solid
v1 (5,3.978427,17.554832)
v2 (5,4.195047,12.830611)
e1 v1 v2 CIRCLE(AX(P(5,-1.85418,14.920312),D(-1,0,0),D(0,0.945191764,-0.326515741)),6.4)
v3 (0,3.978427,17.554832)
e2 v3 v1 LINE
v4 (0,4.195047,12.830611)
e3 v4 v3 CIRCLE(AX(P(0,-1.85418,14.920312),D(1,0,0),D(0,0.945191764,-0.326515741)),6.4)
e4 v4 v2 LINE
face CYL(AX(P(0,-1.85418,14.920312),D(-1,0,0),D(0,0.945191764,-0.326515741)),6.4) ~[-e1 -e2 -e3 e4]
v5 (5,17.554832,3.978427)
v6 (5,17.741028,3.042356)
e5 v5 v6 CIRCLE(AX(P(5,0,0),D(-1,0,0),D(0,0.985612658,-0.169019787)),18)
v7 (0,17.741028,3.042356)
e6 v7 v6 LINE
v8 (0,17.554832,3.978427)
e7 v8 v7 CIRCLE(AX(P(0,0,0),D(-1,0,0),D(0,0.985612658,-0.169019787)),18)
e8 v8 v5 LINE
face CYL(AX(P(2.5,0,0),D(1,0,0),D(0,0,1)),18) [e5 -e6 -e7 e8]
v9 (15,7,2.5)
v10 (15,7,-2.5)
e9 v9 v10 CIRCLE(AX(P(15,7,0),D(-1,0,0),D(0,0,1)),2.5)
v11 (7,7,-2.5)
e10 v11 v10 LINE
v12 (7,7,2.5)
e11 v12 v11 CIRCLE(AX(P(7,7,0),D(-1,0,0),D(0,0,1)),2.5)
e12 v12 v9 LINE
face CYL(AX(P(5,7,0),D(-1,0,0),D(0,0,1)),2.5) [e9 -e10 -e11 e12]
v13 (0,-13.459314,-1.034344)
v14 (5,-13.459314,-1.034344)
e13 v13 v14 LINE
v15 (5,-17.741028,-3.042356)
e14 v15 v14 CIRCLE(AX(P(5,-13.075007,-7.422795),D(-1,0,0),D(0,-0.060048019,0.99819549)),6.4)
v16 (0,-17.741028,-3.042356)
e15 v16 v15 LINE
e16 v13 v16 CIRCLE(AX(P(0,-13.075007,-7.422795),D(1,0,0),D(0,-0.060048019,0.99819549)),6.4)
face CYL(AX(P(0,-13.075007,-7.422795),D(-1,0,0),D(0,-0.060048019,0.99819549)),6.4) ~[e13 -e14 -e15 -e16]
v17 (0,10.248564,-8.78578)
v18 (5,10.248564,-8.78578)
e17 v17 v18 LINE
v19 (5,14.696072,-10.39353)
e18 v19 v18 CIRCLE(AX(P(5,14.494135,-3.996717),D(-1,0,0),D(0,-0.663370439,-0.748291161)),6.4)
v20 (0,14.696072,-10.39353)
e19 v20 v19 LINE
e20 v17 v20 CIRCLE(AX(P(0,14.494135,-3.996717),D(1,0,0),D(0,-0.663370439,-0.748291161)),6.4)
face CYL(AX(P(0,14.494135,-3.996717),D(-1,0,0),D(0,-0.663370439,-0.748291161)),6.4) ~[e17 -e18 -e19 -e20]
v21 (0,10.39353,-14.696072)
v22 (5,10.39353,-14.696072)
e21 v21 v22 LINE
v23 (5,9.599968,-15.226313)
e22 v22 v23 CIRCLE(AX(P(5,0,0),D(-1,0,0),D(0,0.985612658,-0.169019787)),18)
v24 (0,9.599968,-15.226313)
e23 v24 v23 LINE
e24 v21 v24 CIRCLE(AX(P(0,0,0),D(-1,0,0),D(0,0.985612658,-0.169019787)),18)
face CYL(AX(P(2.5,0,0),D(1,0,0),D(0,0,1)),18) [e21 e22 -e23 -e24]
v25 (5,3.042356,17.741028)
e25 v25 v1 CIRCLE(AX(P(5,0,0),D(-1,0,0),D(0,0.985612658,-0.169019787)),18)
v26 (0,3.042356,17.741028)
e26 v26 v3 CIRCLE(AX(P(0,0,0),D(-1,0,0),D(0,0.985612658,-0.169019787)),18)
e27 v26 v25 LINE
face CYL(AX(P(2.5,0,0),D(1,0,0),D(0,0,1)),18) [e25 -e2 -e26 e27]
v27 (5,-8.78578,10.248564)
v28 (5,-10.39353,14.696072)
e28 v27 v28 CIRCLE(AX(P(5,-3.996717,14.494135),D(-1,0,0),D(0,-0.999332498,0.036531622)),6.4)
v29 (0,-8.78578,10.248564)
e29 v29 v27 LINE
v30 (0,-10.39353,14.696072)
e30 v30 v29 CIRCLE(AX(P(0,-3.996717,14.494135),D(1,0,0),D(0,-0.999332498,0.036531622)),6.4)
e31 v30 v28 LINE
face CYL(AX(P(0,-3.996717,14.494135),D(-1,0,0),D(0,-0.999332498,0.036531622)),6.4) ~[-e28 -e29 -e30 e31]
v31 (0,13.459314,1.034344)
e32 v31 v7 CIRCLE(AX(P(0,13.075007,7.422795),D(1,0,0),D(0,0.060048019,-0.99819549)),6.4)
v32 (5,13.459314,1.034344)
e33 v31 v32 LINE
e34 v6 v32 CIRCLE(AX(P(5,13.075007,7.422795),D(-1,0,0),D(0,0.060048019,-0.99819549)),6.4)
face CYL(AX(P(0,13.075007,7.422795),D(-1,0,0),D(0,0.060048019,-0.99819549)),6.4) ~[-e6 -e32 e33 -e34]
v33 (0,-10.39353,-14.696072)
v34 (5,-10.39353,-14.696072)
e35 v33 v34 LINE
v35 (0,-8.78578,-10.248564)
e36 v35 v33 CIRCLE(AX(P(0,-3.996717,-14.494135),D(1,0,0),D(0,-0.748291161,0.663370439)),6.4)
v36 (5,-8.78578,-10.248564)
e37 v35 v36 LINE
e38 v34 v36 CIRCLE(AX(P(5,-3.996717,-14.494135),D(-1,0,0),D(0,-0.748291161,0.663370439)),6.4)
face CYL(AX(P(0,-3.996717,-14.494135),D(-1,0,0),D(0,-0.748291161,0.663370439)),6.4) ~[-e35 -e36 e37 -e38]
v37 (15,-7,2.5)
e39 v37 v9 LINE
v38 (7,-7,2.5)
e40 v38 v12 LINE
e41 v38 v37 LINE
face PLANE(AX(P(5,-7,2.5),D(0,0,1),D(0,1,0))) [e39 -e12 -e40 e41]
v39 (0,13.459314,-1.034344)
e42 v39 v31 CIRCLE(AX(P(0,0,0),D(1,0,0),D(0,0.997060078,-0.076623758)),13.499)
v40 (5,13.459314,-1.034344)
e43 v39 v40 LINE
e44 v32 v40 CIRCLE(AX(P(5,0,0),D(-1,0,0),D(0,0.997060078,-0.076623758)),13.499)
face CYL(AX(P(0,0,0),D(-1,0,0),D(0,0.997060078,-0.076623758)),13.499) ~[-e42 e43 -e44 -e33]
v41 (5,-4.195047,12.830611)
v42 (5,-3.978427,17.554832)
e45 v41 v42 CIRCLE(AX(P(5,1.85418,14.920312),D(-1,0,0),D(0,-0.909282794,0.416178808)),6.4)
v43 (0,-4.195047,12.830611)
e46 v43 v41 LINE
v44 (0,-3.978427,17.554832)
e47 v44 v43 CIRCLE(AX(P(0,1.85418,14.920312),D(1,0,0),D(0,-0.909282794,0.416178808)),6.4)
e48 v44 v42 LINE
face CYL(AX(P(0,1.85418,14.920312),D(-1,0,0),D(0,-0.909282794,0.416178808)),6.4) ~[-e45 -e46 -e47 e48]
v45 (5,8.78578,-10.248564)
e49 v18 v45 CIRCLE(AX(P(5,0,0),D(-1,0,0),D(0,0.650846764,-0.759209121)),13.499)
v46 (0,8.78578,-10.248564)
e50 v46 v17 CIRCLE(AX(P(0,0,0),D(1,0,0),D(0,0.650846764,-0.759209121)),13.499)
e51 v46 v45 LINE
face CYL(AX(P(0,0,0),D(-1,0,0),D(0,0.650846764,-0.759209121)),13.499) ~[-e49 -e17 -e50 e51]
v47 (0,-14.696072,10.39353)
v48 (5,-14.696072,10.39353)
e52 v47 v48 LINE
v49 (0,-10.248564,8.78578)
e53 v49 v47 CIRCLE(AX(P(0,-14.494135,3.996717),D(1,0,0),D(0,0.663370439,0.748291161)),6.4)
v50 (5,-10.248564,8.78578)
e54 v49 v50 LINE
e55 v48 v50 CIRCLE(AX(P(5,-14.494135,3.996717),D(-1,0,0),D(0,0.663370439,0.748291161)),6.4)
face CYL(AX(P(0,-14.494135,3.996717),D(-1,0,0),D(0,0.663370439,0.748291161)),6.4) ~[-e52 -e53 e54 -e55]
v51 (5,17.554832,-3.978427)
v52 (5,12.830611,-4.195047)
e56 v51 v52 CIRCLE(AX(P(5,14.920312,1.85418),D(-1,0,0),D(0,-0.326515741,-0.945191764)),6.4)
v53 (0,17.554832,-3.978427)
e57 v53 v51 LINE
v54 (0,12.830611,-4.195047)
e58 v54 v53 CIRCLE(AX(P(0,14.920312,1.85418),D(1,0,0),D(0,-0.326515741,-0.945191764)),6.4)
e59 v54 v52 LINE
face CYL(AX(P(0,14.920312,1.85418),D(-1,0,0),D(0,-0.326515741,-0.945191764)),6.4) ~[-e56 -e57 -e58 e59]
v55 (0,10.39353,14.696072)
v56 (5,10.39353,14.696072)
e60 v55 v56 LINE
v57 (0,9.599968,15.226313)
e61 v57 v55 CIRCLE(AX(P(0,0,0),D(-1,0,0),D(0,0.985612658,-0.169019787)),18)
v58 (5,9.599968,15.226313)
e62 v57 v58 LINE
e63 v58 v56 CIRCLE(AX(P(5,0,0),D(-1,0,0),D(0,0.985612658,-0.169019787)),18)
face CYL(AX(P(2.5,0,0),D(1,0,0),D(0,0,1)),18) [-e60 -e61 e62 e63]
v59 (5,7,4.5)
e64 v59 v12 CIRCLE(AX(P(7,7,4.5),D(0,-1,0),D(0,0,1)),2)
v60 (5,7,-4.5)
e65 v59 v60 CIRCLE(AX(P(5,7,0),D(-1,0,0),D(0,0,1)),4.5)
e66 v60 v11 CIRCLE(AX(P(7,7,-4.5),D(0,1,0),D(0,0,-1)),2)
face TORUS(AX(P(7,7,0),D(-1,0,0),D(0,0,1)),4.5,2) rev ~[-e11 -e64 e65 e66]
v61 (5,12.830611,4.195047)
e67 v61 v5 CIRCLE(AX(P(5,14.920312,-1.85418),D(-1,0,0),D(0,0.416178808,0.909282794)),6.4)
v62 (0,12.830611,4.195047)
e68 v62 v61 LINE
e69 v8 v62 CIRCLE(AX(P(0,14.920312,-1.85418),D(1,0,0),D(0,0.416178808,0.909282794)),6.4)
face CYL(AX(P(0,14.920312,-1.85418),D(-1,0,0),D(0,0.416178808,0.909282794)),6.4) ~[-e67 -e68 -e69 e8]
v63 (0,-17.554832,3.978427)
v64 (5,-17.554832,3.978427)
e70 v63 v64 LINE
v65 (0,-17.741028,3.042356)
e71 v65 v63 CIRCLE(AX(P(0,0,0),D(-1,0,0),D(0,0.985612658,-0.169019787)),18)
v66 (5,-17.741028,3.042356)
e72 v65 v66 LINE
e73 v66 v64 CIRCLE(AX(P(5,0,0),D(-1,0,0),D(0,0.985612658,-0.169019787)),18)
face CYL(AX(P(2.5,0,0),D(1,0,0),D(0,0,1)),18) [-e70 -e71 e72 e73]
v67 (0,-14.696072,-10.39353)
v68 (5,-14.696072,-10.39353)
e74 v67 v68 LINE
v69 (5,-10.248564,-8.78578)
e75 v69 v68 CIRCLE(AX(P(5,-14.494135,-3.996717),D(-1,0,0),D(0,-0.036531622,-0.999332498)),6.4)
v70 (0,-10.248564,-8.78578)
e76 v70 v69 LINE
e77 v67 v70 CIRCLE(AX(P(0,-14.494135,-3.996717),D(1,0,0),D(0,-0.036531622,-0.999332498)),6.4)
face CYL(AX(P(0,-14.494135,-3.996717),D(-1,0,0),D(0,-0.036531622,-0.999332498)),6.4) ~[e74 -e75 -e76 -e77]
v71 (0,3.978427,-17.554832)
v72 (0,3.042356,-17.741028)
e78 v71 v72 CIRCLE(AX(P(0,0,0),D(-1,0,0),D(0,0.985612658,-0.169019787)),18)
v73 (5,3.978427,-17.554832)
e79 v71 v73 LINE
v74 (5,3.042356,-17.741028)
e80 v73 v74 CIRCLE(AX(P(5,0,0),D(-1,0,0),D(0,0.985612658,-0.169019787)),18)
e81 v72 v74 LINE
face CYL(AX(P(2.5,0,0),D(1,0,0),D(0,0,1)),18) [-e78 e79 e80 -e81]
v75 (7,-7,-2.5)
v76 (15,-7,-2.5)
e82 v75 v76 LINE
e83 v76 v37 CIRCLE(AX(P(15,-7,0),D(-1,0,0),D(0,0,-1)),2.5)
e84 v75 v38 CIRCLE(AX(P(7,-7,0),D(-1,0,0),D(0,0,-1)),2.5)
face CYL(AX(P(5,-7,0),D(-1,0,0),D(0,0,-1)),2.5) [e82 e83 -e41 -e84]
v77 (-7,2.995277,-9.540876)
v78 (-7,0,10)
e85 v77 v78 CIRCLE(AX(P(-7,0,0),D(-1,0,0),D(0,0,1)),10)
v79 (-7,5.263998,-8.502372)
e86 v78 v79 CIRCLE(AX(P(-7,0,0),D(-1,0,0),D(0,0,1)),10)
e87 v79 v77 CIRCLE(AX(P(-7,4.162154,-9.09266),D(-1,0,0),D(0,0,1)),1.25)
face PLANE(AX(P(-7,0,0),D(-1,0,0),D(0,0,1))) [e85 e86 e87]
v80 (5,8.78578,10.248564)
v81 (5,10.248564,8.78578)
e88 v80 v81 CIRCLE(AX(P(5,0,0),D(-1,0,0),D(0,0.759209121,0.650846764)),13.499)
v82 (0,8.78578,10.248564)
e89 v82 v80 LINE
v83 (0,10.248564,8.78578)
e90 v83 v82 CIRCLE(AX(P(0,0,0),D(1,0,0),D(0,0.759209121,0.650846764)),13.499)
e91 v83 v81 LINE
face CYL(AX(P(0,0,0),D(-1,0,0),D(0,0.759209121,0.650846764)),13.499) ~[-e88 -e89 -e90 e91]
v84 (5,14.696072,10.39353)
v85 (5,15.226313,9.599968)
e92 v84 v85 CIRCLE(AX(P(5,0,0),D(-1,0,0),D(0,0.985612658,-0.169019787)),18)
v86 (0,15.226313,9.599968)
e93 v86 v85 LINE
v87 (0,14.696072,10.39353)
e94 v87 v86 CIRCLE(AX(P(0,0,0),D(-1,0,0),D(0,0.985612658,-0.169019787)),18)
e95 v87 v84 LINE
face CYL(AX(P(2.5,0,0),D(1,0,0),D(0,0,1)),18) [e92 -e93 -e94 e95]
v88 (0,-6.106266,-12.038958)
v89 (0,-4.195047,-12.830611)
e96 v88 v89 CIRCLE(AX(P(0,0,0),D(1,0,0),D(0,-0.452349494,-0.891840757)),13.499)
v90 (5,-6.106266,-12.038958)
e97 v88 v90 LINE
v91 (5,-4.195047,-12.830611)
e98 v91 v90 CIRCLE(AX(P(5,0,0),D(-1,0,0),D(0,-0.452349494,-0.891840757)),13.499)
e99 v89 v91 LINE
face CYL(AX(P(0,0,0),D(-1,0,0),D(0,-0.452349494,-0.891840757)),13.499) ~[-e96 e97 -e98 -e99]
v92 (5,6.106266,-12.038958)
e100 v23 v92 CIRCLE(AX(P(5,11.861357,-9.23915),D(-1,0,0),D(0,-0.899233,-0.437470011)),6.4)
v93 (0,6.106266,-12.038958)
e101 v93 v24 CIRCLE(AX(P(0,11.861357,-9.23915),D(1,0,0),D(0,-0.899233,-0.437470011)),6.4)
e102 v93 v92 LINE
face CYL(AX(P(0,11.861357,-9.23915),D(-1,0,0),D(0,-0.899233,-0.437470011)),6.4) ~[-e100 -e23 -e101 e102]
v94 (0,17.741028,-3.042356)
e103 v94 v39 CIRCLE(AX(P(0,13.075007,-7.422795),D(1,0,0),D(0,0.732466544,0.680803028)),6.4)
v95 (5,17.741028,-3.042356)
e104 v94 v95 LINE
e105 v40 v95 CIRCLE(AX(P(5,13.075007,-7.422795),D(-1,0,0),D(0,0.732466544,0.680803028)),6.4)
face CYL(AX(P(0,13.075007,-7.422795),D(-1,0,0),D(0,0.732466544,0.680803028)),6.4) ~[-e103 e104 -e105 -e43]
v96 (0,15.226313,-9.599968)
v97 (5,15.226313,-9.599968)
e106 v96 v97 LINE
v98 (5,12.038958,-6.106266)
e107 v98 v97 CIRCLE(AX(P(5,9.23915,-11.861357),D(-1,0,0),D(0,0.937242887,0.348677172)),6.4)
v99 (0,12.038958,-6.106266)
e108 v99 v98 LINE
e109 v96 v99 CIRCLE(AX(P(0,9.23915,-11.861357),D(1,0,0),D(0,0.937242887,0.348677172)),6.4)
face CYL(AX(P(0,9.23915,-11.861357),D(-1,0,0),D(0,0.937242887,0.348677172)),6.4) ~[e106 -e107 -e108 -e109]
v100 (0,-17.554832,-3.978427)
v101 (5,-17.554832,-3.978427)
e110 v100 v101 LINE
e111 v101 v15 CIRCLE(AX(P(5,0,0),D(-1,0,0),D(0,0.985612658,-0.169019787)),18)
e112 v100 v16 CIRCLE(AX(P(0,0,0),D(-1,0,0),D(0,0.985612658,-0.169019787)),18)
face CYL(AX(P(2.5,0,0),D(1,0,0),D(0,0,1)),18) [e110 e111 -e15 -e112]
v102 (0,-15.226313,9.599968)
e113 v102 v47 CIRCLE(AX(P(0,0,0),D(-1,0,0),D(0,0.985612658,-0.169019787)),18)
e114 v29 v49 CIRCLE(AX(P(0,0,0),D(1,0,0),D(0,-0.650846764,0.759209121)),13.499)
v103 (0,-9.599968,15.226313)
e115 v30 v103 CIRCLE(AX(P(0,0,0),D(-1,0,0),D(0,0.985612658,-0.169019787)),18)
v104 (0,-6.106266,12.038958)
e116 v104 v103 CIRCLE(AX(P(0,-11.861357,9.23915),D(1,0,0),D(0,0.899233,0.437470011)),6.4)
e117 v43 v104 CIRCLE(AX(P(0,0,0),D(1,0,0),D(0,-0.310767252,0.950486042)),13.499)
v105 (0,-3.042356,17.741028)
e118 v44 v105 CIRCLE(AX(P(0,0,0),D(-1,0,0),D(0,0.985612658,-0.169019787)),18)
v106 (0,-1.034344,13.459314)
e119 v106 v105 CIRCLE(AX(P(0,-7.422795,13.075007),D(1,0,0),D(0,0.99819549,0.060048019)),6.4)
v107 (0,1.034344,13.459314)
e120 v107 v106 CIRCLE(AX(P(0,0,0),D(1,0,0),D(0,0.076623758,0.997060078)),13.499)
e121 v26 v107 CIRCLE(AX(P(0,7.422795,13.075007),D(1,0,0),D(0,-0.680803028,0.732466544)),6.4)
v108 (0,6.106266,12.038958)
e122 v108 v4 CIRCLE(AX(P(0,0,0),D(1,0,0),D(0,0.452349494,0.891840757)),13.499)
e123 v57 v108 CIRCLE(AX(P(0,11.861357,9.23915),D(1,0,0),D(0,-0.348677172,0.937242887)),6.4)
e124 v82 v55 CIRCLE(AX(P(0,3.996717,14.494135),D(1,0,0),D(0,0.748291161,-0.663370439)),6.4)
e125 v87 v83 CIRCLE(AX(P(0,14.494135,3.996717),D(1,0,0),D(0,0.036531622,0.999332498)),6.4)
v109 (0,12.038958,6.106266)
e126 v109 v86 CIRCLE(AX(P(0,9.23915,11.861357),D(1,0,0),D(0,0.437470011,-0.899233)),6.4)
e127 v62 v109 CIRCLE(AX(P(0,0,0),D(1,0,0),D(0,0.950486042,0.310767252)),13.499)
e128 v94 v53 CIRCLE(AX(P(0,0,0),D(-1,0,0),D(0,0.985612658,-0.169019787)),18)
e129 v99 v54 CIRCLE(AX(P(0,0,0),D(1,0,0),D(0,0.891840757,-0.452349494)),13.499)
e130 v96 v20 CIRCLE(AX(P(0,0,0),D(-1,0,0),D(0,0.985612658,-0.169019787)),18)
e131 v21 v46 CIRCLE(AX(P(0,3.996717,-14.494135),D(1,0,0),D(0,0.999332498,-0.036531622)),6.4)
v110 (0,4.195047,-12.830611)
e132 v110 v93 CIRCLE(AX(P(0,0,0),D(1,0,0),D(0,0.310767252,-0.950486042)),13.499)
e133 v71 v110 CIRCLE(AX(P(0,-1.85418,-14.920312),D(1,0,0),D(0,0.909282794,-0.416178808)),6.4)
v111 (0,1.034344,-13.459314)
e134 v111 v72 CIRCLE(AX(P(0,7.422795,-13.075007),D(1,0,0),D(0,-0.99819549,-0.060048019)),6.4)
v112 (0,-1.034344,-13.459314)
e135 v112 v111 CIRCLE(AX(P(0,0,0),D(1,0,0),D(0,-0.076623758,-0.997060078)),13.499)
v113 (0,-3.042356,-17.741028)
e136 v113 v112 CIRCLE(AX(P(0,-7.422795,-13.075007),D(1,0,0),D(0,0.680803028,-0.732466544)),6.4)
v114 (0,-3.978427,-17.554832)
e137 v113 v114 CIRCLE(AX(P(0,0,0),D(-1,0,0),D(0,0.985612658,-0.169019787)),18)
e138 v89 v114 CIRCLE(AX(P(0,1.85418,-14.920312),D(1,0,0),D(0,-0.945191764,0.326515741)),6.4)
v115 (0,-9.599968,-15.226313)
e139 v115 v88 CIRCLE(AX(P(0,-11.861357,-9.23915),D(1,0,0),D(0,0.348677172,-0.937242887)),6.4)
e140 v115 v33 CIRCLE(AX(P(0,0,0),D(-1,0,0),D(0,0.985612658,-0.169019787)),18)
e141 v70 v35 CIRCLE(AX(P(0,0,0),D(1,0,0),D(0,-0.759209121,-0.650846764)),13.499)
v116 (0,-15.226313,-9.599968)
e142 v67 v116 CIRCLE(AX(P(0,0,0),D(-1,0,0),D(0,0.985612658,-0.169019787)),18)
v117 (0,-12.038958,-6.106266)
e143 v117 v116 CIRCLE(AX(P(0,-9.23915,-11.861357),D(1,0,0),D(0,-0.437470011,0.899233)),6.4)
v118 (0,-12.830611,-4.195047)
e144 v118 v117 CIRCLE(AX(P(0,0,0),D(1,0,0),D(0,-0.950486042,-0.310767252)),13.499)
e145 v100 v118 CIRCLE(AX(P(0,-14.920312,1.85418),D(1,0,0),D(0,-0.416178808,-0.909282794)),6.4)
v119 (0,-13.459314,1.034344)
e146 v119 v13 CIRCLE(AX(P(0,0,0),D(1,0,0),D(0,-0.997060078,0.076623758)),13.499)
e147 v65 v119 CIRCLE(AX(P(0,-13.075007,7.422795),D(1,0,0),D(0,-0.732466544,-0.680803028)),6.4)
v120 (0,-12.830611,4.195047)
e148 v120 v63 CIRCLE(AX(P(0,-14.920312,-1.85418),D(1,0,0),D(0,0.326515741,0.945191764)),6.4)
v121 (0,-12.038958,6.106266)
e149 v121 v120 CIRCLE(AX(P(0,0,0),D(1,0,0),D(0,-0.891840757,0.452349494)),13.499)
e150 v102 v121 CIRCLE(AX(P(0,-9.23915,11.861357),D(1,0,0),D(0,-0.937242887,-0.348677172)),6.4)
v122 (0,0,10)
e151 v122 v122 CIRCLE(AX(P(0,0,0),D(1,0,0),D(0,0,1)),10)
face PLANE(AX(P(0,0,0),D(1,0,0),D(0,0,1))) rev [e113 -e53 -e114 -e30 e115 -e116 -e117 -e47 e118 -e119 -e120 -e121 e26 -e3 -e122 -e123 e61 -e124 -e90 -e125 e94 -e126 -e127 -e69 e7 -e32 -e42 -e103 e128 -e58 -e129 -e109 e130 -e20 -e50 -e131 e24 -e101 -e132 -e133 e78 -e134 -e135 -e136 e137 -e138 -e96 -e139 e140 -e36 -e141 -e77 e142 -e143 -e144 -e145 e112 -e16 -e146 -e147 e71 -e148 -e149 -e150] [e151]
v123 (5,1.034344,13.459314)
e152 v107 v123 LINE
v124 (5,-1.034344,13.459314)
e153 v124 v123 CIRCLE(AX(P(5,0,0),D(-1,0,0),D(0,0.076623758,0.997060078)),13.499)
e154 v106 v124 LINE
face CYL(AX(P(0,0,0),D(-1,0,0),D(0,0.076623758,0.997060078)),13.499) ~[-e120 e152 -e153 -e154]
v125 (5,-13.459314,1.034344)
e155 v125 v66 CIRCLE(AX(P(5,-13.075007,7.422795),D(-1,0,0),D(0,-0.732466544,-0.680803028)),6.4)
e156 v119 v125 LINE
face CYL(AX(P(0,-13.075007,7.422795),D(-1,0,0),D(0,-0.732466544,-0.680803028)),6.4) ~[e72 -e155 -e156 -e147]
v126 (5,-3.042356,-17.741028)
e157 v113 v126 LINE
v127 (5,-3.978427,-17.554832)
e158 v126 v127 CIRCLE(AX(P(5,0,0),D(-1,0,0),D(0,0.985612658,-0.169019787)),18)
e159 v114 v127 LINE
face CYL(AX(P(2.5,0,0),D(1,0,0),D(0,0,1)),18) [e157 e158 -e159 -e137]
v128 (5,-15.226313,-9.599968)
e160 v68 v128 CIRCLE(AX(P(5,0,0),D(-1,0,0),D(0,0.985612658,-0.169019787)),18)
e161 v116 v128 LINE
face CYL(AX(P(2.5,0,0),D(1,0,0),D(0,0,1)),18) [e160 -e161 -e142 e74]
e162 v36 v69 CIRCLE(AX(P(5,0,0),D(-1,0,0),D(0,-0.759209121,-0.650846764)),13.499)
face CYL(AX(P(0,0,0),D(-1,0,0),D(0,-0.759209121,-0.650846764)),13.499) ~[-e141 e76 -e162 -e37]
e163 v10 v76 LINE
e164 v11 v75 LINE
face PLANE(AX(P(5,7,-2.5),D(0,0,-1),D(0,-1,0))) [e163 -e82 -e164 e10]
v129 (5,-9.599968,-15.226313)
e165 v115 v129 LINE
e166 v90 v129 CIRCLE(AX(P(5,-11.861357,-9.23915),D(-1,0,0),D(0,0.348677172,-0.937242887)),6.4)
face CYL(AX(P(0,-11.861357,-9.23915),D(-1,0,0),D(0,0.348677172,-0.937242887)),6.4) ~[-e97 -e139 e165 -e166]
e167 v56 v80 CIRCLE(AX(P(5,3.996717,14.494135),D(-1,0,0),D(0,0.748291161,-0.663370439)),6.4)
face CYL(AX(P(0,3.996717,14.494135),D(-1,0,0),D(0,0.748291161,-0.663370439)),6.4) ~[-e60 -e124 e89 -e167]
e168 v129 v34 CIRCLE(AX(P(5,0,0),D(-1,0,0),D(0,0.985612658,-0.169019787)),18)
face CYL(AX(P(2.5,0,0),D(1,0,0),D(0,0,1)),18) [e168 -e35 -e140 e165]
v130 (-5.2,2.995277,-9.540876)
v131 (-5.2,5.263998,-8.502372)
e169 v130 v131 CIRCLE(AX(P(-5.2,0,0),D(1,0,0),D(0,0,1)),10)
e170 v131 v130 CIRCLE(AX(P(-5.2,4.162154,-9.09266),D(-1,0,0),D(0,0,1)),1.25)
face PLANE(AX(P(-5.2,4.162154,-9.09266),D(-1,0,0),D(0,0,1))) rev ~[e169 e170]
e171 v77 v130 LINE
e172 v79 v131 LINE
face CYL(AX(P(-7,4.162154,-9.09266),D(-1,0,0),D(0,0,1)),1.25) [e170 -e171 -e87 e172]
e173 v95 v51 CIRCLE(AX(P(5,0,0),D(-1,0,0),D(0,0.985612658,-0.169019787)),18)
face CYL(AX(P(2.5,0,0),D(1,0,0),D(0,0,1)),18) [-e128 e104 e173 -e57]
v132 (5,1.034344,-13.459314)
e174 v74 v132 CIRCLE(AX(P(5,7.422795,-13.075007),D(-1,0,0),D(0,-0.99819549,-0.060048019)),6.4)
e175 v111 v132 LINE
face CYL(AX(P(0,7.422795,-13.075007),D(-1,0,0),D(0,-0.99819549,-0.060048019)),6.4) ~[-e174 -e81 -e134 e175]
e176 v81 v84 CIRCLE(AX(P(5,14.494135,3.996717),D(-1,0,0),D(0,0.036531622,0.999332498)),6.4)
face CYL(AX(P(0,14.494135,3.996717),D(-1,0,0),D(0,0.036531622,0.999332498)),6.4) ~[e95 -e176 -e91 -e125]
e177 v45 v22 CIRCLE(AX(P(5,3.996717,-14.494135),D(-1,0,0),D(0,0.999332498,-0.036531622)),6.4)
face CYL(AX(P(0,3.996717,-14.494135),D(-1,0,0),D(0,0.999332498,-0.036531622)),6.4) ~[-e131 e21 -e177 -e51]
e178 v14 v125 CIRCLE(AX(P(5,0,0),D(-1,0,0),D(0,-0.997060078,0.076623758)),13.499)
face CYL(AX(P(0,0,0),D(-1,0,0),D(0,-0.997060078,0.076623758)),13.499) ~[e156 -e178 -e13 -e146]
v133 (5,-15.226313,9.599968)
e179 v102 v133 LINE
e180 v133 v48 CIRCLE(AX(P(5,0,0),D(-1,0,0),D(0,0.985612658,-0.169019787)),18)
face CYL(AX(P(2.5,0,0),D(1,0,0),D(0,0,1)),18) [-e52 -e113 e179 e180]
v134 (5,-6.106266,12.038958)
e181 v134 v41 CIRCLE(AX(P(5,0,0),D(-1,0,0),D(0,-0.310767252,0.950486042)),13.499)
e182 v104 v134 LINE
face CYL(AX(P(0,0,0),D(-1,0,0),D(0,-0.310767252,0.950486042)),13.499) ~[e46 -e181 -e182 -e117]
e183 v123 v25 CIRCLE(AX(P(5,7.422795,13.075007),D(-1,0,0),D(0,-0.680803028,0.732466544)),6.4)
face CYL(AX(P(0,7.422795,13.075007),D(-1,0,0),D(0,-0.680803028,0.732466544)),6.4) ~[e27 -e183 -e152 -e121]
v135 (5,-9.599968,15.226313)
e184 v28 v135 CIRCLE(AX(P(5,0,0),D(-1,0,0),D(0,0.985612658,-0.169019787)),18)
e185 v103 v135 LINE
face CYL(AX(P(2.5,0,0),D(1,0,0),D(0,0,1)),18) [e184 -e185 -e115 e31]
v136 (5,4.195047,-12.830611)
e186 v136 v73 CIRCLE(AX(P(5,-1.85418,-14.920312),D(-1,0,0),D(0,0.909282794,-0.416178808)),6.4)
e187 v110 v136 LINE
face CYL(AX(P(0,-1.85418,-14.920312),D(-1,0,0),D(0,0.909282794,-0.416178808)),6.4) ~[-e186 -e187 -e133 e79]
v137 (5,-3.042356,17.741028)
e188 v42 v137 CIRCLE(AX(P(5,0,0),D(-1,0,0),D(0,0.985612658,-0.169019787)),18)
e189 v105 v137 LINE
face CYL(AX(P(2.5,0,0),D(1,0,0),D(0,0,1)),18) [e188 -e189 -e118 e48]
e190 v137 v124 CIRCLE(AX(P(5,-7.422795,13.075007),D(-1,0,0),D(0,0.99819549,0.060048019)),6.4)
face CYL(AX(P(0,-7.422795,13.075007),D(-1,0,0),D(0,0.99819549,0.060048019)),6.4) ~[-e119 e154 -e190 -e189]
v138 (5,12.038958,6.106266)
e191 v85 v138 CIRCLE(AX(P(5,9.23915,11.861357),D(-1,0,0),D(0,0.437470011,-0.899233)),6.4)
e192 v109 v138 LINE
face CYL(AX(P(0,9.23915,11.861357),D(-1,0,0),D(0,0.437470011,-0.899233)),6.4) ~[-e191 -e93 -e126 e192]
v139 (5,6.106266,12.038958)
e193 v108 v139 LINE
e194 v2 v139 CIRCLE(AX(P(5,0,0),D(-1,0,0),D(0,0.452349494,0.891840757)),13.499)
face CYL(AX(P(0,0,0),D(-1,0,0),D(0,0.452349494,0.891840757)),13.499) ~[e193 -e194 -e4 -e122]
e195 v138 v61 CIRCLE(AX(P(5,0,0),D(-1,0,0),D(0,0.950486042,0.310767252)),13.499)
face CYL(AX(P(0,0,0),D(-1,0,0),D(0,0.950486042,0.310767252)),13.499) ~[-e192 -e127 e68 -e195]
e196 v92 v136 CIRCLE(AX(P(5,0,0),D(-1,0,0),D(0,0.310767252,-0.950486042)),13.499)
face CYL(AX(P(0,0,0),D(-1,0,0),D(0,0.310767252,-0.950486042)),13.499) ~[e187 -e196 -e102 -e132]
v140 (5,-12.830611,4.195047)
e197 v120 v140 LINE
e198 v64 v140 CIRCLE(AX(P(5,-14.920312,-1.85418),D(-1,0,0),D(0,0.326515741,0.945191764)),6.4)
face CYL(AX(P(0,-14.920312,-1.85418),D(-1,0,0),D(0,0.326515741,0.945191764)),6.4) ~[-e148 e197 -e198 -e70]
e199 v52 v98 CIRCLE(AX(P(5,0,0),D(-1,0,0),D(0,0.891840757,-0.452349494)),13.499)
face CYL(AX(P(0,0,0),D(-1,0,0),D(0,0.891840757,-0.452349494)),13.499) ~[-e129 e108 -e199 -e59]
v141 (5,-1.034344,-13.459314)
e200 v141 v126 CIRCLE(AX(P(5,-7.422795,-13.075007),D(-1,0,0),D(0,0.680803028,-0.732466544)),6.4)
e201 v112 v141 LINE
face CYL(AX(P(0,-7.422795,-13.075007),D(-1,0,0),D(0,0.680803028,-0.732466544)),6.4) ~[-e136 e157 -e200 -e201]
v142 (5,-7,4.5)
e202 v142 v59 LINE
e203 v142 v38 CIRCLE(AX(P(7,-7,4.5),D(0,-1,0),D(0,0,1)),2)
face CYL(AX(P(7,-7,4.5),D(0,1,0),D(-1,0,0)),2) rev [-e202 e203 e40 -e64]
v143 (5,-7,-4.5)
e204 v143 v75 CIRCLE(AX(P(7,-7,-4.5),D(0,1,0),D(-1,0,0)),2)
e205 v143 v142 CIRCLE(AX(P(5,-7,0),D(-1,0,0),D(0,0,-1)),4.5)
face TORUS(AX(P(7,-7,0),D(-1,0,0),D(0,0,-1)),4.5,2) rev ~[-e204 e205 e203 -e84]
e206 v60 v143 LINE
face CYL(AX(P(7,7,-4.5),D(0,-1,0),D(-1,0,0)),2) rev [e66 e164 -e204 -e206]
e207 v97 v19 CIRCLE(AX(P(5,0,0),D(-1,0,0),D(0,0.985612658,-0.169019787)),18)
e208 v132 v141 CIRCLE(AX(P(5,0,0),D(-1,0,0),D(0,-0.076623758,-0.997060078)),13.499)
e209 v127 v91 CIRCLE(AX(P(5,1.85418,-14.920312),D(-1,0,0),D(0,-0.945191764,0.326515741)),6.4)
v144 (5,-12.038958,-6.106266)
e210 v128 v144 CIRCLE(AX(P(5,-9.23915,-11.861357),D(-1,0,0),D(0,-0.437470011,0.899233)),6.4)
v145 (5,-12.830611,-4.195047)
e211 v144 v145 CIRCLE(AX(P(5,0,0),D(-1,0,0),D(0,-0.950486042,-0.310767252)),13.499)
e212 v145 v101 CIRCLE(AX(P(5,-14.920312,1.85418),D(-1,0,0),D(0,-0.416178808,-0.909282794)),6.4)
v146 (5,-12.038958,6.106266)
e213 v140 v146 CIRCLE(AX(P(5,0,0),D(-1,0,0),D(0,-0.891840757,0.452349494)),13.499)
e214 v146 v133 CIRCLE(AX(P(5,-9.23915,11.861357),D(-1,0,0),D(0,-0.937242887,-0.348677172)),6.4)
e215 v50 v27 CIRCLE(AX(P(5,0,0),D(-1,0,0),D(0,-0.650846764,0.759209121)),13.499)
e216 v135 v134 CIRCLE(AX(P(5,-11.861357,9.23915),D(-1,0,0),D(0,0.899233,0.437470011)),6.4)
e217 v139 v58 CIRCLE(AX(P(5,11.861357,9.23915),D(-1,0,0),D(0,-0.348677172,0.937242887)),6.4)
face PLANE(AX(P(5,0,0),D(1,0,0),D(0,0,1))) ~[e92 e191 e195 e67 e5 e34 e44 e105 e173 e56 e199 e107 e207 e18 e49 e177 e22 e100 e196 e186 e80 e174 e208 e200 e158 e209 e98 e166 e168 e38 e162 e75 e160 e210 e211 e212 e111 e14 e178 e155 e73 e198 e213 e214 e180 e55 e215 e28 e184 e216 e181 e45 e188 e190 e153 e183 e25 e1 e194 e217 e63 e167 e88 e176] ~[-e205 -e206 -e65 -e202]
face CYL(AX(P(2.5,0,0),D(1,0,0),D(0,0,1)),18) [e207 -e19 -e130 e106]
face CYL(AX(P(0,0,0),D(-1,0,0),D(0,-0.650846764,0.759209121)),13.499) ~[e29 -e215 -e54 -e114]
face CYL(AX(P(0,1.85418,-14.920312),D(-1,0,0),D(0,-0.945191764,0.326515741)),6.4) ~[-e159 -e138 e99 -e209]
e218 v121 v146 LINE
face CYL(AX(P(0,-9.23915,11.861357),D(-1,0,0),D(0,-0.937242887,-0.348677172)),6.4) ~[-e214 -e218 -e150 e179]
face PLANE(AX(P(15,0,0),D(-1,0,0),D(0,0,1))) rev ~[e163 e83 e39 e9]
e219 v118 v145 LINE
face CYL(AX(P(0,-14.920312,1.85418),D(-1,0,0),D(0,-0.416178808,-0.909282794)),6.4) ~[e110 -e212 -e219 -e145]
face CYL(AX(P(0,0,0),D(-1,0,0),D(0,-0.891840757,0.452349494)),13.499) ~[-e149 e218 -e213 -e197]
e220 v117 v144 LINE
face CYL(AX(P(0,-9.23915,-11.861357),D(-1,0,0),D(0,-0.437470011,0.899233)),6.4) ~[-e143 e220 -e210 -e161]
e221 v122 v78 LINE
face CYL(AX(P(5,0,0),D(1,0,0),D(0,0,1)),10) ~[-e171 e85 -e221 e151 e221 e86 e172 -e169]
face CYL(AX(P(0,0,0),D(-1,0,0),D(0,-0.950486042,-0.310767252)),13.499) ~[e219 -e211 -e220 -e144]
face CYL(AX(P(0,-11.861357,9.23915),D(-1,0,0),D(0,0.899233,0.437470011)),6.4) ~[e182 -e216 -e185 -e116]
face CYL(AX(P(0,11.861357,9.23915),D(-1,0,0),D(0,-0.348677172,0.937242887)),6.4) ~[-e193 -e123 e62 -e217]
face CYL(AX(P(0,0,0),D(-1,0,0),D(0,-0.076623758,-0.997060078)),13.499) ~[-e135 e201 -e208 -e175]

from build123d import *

# Parameters (mm, degrees)
BASPROSKE_W              = 5
BASPROSKE_H              = 18
TOOTHCUT_DEPTH           = 26.942243542
TEETHCUTS_COUNT          = 16
TEETHCUTS_ANGLE          = 337.5
BORSKE_R                 = 2.5
BORE_DEPTH               = 50.0000508
BOSS_EXTRUDE1_DEPTH      = 7
BOSS_EXTRUDE1_DEPTH_BACK = 5
SKETCH1_R                = 10
SKETCH2_R                = 1.25
BOSS_EXTRUDE3_DEPTH      = 1.8
BOSS_EXTRUDE4_DEPTH      = 10
FILLET1_R                = 2


with BuildPart() as part:
    # BasProSke → Base-Revolve (revolve)
    with BuildSketch(Plane(origin=(0, 0, 0), x_dir=(1, 0, 0), z_dir=(0, 1, 0)), mode=Mode.PRIVATE) as base_revolve_sk:
        with Locations((2.5, 9)):
            Rectangle(BASPROSKE_W, BASPROSKE_H)
    revolve(base_revolve_sk.sketch.rotate(Axis((-10, 0, 0), (1, 0, 0)), 180), axis=Axis((-10, 0, 0), (1, 0, 0)))

    # TooCutSke → ToothCut (cut, through all)
    with BuildSketch(Plane(origin=(0, 0, 0), x_dir=(0, 0, -1), z_dir=(1, 0, 0))):
        with BuildLine():
            ThreePointArc((1.03434411, 13.459313997), (0, 13.499), (-1.03434411, 13.459313997))
            ThreePointArc((-1.03434411, 13.459313997), (-1.635143665, 15.806872195), (-3.065655864, 17.762792553))
            ThreePointArc((-3.065655864, 17.762792553), (0, 18.0254), (3.065655864, 17.762792553))
            ThreePointArc((3.065655864, 17.762792553), (1.635143665, 15.806872195), (1.03434411, 13.459313997))
        make_face()
    toothcut = extrude(amount=TOOTHCUT_DEPTH, mode=Mode.SUBTRACT)

    # TeethCuts: ToothCut ×16 about axis
    teethcuts_axis = Axis((-10, 0, 0), (1, 0, 0))
    for i in range(1, TEETHCUTS_COUNT):
        add(toothcut.rotate(teethcuts_axis, i * TEETHCUTS_ANGLE / (TEETHCUTS_COUNT - 1)), mode=Mode.SUBTRACT)

    # BorSke → Bore (cut, symmetric)
    with BuildSketch(Plane(origin=(0, 0, 0), x_dir=(0, 0, -1), z_dir=(1, 0, 0))):
        with Locations(Location((0, 0, 0), (0, 0, 180))):
            Circle(BORSKE_R)
    extrude(amount=BORE_DEPTH, both=True, mode=Mode.SUBTRACT)

    # Sketch1 → Boss-Extrude1 (add, two sides: drawn at the far end of the back side and taken through both)
    with BuildSketch(Plane.ZY.offset(-BOSS_EXTRUDE1_DEPTH_BACK)):
        Circle(SKETCH1_R)
    extrude(amount=BOSS_EXTRUDE1_DEPTH + BOSS_EXTRUDE1_DEPTH_BACK)

    # Sketch2 → Boss-Extrude3 (add)
    with BuildSketch(Plane.ZY.offset(7)):
        with Locations((-9.092660354, 4.162154213)):
            Circle(SKETCH2_R)
    extrude(amount=-BOSS_EXTRUDE3_DEPTH)

    # Sketch3 → Boss-Extrude4 (add)
    with BuildSketch(Plane(origin=(5, 0, 0), x_dir=(0, 0, -1), z_dir=(1, 0, 0))):
        with BuildLine():
            Line((2.5, 7), (2.5, -7))
            ThreePointArc((2.5, -7), (0, -9.5), (-2.5, -7))
            Line((-2.5, -7), (-2.5, 7))
            ThreePointArc((-2.5, 7), (0, 9.5), (2.5, 7))
        make_face()
    extrude(amount=BOSS_EXTRUDE4_DEPTH)

    # Fillet1
    fillet1_edges = [part.edges().sort_by_distance(p)[0] for p in [
        (5, 9.5, 0),
        (5, 0, 2.5),
        (5, -9.5, 0),
        (5, 0, -2.5),
    ]]
    fillet(fillet1_edges, radius=FILLET1_R)


solid = part.part
